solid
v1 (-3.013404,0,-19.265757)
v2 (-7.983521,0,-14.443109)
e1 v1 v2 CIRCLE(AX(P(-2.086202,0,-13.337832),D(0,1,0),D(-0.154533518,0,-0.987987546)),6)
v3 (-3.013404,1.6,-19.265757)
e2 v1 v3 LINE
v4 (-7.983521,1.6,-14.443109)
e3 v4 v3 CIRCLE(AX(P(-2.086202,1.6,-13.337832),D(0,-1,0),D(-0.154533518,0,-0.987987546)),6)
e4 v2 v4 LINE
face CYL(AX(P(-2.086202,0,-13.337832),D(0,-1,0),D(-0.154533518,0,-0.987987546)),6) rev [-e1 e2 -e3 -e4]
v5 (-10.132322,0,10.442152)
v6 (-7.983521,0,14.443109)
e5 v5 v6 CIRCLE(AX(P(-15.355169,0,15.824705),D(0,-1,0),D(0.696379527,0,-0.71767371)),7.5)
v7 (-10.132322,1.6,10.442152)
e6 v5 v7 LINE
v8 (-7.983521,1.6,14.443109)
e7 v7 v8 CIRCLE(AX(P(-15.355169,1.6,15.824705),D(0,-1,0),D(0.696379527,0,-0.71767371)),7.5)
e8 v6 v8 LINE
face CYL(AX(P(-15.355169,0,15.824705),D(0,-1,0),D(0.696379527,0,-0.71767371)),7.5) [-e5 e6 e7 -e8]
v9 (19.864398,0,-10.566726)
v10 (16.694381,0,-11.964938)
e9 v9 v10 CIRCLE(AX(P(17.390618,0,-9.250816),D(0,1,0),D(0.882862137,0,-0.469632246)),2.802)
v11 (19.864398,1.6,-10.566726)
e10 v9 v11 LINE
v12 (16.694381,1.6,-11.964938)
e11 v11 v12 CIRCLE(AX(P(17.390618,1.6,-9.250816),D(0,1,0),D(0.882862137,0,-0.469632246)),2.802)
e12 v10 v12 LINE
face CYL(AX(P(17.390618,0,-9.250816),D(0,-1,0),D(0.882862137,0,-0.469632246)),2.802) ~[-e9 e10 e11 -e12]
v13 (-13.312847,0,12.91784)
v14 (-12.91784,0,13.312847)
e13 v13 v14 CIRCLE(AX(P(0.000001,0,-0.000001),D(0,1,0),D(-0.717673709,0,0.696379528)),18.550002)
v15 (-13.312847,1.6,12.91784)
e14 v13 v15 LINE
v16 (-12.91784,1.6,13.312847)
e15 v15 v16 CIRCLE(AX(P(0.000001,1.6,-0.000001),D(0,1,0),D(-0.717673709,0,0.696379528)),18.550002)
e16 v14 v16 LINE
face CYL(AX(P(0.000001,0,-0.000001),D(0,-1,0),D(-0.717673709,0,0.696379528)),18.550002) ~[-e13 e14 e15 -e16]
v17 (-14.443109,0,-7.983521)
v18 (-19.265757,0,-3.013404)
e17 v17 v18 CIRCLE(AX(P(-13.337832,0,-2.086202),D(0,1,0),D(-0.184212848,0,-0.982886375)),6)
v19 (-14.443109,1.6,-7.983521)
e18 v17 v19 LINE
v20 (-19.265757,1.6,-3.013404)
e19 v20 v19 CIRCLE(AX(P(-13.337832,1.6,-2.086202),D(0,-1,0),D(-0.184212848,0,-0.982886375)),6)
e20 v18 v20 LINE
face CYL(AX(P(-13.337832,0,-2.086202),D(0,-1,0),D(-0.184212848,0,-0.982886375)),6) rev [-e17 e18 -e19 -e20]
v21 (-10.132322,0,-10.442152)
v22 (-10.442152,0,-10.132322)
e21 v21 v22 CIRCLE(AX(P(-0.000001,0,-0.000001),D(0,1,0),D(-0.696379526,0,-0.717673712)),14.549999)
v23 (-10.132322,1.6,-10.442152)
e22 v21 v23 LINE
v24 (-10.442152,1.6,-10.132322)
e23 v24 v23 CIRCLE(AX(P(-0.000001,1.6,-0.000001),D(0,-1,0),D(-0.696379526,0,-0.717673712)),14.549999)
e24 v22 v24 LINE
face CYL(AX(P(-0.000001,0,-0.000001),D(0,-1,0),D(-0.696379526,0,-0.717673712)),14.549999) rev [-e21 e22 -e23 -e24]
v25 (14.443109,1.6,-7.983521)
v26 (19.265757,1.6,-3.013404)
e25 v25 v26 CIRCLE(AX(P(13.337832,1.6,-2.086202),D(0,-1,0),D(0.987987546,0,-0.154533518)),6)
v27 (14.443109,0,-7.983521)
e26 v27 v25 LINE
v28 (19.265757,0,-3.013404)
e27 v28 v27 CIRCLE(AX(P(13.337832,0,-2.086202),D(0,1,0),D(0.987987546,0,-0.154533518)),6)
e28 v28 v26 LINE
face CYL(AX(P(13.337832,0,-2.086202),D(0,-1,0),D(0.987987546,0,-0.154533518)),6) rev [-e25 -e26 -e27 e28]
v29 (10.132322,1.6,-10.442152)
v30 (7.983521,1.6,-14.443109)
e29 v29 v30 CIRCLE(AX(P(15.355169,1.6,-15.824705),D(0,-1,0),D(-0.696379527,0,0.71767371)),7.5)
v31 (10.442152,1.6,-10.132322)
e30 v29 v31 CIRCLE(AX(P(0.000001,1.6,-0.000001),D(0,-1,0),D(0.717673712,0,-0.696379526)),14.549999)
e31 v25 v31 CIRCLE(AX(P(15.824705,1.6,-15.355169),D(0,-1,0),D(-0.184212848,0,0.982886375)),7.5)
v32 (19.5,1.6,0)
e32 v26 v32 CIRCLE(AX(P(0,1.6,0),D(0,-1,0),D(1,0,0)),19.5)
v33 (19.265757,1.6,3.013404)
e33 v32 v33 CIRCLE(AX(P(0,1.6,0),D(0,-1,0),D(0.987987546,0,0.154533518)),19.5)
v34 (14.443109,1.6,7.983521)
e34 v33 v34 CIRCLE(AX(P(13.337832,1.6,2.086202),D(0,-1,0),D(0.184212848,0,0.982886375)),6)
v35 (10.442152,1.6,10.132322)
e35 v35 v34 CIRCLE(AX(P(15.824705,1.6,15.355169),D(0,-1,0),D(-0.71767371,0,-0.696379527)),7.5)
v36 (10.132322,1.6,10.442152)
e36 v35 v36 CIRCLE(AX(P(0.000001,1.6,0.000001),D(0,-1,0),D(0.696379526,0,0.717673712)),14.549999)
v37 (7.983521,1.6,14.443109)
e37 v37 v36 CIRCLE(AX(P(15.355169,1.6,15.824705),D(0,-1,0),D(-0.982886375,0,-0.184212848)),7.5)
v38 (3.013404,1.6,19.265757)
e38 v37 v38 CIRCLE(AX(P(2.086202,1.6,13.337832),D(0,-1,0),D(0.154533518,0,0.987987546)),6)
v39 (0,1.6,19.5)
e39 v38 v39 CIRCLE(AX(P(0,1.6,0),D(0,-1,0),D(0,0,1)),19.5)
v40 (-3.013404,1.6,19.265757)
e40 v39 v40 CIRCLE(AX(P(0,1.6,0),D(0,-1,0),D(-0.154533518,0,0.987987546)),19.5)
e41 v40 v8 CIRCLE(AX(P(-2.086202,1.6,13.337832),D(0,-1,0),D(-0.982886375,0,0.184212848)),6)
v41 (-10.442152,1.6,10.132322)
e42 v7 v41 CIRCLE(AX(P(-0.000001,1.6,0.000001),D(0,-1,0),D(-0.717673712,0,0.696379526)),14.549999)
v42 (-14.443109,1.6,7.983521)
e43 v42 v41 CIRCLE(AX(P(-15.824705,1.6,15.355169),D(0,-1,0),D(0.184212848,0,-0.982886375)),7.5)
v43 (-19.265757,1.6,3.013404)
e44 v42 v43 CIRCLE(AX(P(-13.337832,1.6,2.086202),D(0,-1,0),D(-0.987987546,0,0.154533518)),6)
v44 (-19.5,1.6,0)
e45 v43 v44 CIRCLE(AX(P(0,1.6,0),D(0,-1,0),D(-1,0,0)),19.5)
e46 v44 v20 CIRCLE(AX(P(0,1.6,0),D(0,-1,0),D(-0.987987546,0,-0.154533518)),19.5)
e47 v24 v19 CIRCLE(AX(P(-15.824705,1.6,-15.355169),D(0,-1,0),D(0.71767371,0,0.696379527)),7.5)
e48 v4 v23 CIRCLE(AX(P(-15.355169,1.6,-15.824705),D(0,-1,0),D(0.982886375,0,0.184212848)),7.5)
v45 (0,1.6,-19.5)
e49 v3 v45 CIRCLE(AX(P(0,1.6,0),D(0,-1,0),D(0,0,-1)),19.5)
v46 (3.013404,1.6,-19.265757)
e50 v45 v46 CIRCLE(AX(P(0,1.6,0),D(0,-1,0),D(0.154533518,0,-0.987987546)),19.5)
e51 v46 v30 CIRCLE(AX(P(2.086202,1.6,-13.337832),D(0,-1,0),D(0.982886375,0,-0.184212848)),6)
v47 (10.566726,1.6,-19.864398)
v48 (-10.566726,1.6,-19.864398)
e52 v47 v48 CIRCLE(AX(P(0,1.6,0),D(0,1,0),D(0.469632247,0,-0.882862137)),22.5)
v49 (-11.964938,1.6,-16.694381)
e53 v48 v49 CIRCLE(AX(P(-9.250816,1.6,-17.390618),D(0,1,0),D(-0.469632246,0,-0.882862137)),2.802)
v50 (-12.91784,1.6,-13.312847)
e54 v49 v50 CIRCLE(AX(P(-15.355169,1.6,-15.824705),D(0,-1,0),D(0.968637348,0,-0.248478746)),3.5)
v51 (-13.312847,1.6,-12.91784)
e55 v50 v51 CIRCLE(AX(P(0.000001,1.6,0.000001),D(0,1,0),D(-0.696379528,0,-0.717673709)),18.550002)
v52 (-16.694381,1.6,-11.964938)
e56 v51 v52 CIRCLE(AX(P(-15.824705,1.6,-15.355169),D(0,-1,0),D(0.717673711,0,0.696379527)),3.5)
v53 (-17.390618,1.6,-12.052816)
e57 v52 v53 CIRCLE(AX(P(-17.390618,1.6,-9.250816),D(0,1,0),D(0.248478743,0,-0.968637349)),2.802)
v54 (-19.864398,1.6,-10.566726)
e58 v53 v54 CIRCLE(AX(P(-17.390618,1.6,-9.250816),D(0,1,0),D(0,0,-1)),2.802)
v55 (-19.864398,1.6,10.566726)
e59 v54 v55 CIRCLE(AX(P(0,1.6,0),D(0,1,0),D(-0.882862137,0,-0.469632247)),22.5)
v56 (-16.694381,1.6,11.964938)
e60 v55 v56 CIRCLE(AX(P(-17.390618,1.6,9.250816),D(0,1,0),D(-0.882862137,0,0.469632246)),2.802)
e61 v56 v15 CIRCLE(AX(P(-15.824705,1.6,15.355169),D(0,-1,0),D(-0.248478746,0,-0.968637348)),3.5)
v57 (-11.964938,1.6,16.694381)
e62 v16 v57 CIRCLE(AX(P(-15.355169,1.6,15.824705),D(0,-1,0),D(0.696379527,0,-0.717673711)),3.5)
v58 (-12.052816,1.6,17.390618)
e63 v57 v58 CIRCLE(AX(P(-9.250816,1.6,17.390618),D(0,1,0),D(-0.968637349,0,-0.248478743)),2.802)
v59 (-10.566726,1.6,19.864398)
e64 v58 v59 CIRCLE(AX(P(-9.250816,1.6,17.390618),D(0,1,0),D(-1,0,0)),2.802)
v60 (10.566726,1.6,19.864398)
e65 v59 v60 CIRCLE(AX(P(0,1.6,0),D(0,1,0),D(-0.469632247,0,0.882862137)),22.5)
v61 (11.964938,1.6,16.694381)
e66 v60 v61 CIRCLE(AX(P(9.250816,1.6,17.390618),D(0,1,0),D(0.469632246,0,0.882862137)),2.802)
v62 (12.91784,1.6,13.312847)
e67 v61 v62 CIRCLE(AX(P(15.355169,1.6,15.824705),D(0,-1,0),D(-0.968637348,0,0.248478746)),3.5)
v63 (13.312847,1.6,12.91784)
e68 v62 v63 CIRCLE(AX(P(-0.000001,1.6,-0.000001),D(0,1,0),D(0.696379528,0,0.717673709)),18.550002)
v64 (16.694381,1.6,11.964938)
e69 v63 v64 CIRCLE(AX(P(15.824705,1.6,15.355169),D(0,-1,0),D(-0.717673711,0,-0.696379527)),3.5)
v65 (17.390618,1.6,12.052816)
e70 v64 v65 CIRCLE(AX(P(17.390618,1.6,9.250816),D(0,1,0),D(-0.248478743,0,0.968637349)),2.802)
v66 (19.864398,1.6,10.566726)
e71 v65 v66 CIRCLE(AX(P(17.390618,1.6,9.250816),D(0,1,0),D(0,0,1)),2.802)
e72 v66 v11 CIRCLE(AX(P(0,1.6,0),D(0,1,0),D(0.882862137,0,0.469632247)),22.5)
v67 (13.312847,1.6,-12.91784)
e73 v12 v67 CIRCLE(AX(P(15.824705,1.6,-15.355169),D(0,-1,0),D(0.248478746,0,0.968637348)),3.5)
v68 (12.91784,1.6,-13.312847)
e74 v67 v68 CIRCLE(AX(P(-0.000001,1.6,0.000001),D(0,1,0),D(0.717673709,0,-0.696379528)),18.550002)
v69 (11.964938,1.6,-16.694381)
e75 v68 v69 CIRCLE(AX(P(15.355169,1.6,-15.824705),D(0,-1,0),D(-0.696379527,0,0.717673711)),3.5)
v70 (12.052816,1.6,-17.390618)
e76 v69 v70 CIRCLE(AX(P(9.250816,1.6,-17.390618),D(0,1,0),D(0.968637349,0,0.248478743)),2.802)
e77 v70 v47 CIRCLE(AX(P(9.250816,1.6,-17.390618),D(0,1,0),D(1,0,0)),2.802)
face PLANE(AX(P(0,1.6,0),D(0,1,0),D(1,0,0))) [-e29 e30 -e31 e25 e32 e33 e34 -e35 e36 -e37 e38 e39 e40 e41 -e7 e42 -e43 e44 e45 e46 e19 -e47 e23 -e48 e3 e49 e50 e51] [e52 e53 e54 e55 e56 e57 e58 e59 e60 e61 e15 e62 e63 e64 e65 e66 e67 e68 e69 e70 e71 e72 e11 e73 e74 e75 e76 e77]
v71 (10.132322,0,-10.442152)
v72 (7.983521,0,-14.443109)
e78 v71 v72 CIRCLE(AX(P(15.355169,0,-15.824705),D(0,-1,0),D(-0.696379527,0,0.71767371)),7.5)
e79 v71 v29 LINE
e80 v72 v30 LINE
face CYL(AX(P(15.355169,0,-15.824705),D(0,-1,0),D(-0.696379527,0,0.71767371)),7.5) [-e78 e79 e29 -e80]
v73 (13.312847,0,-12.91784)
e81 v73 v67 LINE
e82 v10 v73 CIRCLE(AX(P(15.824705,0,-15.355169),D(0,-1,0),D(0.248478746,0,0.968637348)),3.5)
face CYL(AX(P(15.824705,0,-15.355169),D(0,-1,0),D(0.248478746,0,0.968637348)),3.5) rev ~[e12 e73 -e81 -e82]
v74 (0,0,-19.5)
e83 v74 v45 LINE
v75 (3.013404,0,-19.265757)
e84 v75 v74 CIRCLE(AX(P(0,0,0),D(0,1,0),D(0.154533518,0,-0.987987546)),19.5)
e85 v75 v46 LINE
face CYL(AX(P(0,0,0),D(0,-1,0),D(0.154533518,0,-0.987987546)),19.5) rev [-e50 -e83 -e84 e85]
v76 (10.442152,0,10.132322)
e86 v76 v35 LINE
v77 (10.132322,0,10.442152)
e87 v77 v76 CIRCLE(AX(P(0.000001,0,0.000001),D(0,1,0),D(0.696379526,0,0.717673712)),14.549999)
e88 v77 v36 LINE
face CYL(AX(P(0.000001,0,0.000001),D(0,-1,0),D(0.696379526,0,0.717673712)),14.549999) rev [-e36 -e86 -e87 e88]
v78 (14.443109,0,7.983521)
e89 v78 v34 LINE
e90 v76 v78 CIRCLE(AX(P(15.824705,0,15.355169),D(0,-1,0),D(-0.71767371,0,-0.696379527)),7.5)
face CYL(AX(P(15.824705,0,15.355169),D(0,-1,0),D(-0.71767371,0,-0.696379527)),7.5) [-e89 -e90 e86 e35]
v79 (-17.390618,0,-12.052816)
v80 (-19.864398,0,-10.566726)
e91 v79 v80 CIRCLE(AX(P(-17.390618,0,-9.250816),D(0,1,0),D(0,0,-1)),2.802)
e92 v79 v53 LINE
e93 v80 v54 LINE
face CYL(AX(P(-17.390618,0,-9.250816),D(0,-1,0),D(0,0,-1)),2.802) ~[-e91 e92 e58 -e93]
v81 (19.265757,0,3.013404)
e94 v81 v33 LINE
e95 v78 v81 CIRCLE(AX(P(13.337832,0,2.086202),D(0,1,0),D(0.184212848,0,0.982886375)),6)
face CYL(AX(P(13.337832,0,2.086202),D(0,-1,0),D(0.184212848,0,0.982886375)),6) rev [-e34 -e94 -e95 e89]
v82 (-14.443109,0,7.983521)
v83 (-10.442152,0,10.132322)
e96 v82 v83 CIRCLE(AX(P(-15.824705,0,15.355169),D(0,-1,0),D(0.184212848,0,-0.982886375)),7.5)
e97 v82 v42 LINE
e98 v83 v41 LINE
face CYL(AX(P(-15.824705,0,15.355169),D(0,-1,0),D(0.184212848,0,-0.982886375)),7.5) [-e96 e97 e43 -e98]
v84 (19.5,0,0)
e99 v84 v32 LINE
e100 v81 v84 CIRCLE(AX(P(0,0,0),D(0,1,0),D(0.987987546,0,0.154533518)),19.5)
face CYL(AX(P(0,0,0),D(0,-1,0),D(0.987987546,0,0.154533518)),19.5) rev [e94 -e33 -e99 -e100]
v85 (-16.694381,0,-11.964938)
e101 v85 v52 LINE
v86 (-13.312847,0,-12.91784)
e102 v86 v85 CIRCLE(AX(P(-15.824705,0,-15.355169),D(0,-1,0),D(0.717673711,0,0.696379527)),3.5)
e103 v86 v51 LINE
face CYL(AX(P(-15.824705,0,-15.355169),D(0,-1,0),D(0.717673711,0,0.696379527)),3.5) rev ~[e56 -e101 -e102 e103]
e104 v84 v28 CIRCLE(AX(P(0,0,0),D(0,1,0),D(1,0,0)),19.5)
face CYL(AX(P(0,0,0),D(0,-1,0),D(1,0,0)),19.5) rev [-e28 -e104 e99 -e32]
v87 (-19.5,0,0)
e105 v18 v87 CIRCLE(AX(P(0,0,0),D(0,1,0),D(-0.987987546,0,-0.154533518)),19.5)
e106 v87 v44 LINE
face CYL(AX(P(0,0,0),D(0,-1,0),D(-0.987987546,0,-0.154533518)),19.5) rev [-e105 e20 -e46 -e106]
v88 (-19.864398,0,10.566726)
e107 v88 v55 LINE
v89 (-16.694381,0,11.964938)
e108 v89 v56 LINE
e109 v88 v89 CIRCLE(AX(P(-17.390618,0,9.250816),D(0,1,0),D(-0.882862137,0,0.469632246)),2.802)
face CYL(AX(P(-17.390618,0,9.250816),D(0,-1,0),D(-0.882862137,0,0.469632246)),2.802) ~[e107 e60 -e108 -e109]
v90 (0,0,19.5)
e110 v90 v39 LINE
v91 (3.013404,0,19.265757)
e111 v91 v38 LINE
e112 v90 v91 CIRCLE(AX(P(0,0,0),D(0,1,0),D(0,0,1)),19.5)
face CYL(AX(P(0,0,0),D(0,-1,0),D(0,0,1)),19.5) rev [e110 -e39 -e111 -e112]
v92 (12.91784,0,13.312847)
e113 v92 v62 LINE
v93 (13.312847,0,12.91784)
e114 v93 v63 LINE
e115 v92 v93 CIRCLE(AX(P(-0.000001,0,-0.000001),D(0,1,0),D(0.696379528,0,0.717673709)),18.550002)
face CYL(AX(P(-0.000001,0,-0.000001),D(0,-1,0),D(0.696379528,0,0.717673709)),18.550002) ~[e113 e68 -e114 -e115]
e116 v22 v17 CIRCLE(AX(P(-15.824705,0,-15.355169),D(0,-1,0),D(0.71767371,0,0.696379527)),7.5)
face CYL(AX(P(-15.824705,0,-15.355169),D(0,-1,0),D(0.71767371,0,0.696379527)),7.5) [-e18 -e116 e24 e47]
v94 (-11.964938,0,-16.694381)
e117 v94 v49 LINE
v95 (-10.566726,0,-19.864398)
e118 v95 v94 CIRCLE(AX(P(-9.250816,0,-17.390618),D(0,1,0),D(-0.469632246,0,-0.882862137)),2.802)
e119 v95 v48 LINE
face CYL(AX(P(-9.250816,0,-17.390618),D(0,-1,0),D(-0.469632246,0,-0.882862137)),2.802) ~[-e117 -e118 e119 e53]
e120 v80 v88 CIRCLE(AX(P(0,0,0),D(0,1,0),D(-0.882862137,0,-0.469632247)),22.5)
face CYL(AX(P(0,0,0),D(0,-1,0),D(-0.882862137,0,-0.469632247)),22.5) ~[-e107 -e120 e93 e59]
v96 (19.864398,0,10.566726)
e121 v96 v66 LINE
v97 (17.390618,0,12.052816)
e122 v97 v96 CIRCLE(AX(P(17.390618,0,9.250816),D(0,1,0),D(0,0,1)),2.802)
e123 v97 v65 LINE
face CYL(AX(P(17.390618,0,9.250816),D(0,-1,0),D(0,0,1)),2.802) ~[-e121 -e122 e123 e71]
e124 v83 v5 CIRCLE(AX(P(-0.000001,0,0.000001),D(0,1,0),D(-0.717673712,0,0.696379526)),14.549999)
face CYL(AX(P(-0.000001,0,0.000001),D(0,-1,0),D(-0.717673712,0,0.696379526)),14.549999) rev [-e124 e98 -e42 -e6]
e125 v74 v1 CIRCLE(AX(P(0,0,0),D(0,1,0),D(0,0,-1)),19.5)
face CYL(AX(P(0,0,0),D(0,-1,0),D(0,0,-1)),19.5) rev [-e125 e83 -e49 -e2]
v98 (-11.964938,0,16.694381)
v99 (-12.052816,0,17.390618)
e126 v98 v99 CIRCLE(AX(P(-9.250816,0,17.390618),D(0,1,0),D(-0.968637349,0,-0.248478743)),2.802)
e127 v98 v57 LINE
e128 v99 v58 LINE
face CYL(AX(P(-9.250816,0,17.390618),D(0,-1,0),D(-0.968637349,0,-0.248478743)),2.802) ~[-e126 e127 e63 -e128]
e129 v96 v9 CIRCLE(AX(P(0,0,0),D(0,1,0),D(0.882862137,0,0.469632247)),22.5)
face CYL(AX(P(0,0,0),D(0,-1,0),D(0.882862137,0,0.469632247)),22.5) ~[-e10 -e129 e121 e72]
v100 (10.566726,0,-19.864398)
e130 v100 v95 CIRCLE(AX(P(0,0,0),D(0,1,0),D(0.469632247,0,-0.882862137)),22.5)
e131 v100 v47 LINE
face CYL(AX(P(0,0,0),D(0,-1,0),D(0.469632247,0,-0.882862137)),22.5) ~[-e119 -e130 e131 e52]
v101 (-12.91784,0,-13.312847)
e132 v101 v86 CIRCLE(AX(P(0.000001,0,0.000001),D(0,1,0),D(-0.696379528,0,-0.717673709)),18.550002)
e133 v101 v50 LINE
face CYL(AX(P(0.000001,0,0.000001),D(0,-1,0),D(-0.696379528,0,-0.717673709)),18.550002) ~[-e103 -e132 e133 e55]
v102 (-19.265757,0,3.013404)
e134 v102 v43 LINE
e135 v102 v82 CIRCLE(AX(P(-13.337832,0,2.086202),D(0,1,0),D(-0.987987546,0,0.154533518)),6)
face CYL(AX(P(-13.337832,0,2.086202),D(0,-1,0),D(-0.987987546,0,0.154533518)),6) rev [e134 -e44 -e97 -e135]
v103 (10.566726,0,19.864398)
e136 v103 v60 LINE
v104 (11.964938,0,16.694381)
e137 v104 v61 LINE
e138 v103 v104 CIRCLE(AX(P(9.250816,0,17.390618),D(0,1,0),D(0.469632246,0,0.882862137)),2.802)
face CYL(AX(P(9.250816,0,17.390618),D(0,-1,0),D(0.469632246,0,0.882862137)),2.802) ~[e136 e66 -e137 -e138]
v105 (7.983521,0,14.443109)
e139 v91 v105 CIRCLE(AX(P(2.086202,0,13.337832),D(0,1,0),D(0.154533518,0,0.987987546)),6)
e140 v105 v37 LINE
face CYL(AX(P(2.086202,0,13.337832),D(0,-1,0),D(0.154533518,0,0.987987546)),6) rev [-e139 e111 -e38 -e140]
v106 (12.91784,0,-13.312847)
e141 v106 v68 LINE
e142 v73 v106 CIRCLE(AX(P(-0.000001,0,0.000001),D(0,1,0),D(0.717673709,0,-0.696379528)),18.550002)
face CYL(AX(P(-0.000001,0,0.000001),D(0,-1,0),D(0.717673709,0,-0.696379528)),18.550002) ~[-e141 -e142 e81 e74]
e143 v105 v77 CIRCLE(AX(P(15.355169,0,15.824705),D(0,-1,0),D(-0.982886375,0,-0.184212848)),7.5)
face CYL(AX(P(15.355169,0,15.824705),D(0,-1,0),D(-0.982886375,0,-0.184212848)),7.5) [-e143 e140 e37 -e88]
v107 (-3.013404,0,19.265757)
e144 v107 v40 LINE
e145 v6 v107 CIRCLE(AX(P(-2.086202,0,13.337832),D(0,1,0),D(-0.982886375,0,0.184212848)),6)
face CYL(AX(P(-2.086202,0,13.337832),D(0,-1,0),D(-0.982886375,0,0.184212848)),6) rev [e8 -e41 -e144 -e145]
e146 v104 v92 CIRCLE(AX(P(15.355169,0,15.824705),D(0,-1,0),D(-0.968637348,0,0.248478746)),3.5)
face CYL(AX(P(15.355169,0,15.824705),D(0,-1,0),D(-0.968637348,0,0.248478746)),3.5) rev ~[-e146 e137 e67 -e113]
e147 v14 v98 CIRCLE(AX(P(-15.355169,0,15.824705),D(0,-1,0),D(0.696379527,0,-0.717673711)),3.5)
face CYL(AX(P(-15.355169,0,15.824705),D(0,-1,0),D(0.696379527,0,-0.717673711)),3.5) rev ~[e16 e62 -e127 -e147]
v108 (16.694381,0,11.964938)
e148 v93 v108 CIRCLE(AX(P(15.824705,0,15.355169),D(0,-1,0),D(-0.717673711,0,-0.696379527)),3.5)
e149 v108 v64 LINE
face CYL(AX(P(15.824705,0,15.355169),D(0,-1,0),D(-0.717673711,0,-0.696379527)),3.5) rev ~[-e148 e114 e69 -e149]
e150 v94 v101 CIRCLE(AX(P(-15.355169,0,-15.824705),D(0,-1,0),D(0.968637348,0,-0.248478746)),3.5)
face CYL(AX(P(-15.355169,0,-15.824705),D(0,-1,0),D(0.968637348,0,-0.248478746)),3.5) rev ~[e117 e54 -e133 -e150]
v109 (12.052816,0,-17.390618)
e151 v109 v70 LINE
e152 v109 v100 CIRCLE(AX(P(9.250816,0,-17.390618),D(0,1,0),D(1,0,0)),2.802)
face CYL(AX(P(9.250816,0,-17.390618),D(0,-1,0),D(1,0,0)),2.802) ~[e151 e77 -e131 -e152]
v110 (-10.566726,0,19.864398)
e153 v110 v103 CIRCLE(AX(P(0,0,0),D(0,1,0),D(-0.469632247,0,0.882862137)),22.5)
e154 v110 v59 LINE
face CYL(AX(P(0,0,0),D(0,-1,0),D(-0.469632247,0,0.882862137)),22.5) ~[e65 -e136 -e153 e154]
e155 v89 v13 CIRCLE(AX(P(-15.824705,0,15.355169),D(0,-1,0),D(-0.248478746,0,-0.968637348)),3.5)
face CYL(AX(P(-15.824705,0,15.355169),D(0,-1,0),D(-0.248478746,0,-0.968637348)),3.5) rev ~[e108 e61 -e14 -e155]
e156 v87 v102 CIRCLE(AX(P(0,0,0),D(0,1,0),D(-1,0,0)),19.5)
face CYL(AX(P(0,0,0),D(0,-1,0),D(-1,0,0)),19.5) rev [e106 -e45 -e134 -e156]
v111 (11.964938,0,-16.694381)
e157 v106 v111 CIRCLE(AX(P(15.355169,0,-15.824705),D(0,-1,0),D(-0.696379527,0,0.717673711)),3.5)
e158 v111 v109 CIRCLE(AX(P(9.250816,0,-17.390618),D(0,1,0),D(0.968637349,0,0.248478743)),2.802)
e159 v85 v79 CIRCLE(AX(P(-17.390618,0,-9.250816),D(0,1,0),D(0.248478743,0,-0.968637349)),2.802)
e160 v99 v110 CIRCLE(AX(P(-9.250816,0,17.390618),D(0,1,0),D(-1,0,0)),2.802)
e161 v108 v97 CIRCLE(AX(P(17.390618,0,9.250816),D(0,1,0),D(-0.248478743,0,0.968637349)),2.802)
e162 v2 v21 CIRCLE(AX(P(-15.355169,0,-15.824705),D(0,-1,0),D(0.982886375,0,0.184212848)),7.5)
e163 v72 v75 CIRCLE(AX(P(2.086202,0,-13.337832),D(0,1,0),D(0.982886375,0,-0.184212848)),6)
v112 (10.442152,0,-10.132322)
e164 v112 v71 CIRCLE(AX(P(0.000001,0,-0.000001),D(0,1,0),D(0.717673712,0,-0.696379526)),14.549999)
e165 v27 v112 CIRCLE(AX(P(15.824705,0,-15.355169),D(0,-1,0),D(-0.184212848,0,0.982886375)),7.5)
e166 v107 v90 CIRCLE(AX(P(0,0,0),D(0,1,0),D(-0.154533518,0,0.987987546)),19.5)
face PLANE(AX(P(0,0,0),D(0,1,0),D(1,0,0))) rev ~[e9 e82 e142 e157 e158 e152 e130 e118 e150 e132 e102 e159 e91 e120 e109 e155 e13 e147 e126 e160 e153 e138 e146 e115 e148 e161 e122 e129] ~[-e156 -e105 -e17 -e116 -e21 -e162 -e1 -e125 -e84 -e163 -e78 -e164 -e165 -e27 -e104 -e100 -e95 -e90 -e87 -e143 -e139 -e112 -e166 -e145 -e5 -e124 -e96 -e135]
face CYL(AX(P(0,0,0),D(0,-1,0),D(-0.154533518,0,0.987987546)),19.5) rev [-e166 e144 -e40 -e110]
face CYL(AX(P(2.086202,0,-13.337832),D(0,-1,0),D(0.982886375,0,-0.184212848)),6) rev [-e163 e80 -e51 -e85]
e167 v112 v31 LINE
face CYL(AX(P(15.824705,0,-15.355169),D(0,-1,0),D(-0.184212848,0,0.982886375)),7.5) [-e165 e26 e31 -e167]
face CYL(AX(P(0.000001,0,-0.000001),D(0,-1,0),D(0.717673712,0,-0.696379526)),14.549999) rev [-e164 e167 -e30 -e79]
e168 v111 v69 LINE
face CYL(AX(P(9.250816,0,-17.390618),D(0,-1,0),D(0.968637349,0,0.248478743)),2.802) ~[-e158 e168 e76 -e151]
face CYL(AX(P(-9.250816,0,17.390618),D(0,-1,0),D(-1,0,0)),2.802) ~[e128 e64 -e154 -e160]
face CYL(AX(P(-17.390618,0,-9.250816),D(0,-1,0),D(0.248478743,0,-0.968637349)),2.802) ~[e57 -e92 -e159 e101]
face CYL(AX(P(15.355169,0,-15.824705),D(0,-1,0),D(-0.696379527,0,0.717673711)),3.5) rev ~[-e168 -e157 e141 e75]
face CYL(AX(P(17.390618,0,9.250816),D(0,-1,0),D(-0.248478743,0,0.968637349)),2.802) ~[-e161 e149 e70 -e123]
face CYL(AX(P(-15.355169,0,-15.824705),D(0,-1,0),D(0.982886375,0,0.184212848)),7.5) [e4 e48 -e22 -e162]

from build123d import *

# Parameters (mm, degrees)
BOSS_EXTRUDE1_DEPTH = 1.6
CUT_EXTRUDE2_DEPTH  = 2.6


with BuildPart() as part:
    # Internal Slab → Boss-Extrude1 (new body)
    with BuildSketch(Plane(origin=(0, 0, 0), x_dir=(1, 0, 0), z_dir=(0, 1, 0))):
        with BuildLine():
            ThreePointArc((19.864398082, 10.566725549), (18.521398428, 11.814512636), (16.694380928, 11.964937844))
            ThreePointArc((16.694380928, 11.964937844), (14.875391632, 11.986370035), (13.312847331, 12.91784022))
            ThreePointArc((13.312847331, 12.91784022), (13.116830791, 13.116830791), (12.91784022, 13.312847331))
            ThreePointArc((12.91784022, 13.312847331), (11.986370035, 14.875391632), (11.964937844, 16.694380928))
            ThreePointArc((11.964937844, 16.694380928), (12.030759646, 17.039737643), (12.052815994, 17.390618375))
            ThreePointArc((12.052815994, 17.390618375), (11.652730082, 18.833536499), (10.566725549, 19.864398082))
            ThreePointArc((10.566725549, 19.864398082), (0, 22.5), (-10.566725549, 19.864398082))
            ThreePointArc((-10.566725549, 19.864398082), (-11.814512636, 18.521398428), (-11.964937844, 16.694380928))
            ThreePointArc((-11.964937844, 16.694380928), (-11.986370035, 14.875391632), (-12.91784022, 13.312847331))
            ThreePointArc((-12.91784022, 13.312847331), (-13.116830791, 13.116830791), (-13.312847331, 12.91784022))
            ThreePointArc((-13.312847331, 12.91784022), (-14.875391632, 11.986370035), (-16.694380928, 11.964937844))
            ThreePointArc((-16.694380928, 11.964937844), (-17.039737643, 12.030759646), (-17.390618375, 12.052815994))
            ThreePointArc((-17.390618375, 12.052815994), (-18.833536499, 11.652730082), (-19.864398082, 10.566725549))
            ThreePointArc((-19.864398082, 10.566725549), (-22.5, 0), (-19.864398082, -10.566725549))
            ThreePointArc((-19.864398082, -10.566725549), (-18.521398428, -11.814512636), (-16.694380928, -11.964937844))
            ThreePointArc((-16.694380928, -11.964937844), (-14.875391632, -11.986370035), (-13.312847331, -12.91784022))
            ThreePointArc((-13.312847331, -12.91784022), (-13.116830791, -13.116830791), (-12.91784022, -13.312847331))
            ThreePointArc((-12.91784022, -13.312847331), (-11.986370035, -14.875391632), (-11.964937844, -16.694380928))
            ThreePointArc((-11.964937844, -16.694380928), (-12.030759646, -17.039737643), (-12.052815994, -17.390618375))
            ThreePointArc((-12.052815994, -17.390618375), (-11.652730082, -18.833536499), (-10.566725549, -19.864398082))
            ThreePointArc((-10.566725549, -19.864398082), (0, -22.5), (10.566725549, -19.864398082))
            ThreePointArc((10.566725549, -19.864398082), (11.814512636, -18.521398428), (11.964937844, -16.694380928))
            ThreePointArc((11.964937844, -16.694380928), (11.986370035, -14.875391632), (12.91784022, -13.312847331))
            ThreePointArc((12.91784022, -13.312847331), (13.116830791, -13.116830791), (13.312847331, -12.91784022))
            ThreePointArc((13.312847331, -12.91784022), (14.875391632, -11.986370035), (16.694380928, -11.964937844))
            ThreePointArc((16.694380928, -11.964937844), (17.039737643, -12.030759646), (17.390618375, -12.052815994))
            ThreePointArc((17.390618375, -12.052815994), (18.833536499, -11.652730082), (19.864398082, -10.566725549))
            ThreePointArc((19.864398082, -10.566725549), (22.5, 0), (19.864398082, 10.566725549))
        make_face()
    extrude(amount=BOSS_EXTRUDE1_DEPTH)

    # Sketch3 → Cut-Extrude2 (cut, through all)
    with BuildSketch(Plane(origin=(0, 0, 0), x_dir=(1, 0, 0), z_dir=(0, 1, 0))):
        with BuildLine():
            ThreePointArc((-14.443108961, 7.983520749), (-17.643874139, 6.264479657), (-19.265757154, 3.013403606))
            ThreePointArc((-19.265757154, 3.013403606), (-19.441351091, 1.511247085), (-19.5, 0))
            ThreePointArc((-19.5, 0), (-19.441351091, -1.511247085), (-19.265757154, -3.013403606))
            ThreePointArc((-19.265757154, -3.013403606), (-17.643874139, -6.264479657), (-14.443108961, -7.983520749))
            ThreePointArc((-14.443108961, -7.983520749), (-12.276076656, -8.747806411), (-10.442152488, -10.132322113))
            ThreePointArc((-10.442152488, -10.132322113), (-10.288403666, -10.288403666), (-10.132322113, -10.442152488))
            ThreePointArc((-10.132322113, -10.442152488), (-8.747806411, -12.276076656), (-7.983520749, -14.443108961))
            ThreePointArc((-7.983520749, -14.443108961), (-6.264479657, -17.643874139), (-3.013403606, -19.265757154))
            ThreePointArc((-3.013403606, -19.265757154), (-1.511247085, -19.441351091), (0, -19.5))
            ThreePointArc((0, -19.5), (1.511247085, -19.441351091), (3.013403606, -19.265757154))
            ThreePointArc((3.013403606, -19.265757154), (6.264479657, -17.643874139), (7.983520749, -14.443108961))
            ThreePointArc((7.983520749, -14.443108961), (8.747806411, -12.276076656), (10.132322113, -10.442152488))
            ThreePointArc((10.132322113, -10.442152488), (10.288403666, -10.288403666), (10.442152488, -10.132322113))
            ThreePointArc((10.442152488, -10.132322113), (12.276076656, -8.747806411), (14.443108961, -7.983520749))
            ThreePointArc((14.443108961, -7.983520749), (17.643874139, -6.264479657), (19.265757154, -3.013403606))
            ThreePointArc((19.265757154, -3.013403606), (19.441351091, -1.511247085), (19.5, 0))
            ThreePointArc((19.5, 0), (19.441351091, 1.511247085), (19.265757154, 3.013403606))
            ThreePointArc((19.265757154, 3.013403606), (17.643874139, 6.264479657), (14.443108961, 7.983520749))
            ThreePointArc((14.443108961, 7.983520749), (12.276076656, 8.747806411), (10.442152488, 10.132322113))
            ThreePointArc((10.442152488, 10.132322113), (10.288403666, 10.288403666), (10.132322113, 10.442152488))
            ThreePointArc((10.132322113, 10.442152488), (8.747806411, 12.276076656), (7.983520749, 14.443108961))
            ThreePointArc((7.983520749, 14.443108961), (6.264479657, 17.643874139), (3.013403606, 19.265757154))
            ThreePointArc((3.013403606, 19.265757154), (1.511247085, 19.441351091), (0, 19.5))
            ThreePointArc((0, 19.5), (-1.511247085, 19.441351091), (-3.013403606, 19.265757154))
            ThreePointArc((-3.013403606, 19.265757154), (-6.264479657, 17.643874139), (-7.983520749, 14.443108961))
            ThreePointArc((-7.983520749, 14.443108961), (-8.747806411, 12.276076656), (-10.132322113, 10.442152488))
            ThreePointArc((-10.132322113, 10.442152488), (-10.288403666, 10.288403666), (-10.442152488, 10.132322113))
            ThreePointArc((-10.442152488, 10.132322113), (-12.276076656, 8.747806411), (-14.443108961, 7.983520749))
        make_face()
    extrude(amount=CUT_EXTRUDE2_DEPTH, mode=Mode.SUBTRACT)


solid = part.part
